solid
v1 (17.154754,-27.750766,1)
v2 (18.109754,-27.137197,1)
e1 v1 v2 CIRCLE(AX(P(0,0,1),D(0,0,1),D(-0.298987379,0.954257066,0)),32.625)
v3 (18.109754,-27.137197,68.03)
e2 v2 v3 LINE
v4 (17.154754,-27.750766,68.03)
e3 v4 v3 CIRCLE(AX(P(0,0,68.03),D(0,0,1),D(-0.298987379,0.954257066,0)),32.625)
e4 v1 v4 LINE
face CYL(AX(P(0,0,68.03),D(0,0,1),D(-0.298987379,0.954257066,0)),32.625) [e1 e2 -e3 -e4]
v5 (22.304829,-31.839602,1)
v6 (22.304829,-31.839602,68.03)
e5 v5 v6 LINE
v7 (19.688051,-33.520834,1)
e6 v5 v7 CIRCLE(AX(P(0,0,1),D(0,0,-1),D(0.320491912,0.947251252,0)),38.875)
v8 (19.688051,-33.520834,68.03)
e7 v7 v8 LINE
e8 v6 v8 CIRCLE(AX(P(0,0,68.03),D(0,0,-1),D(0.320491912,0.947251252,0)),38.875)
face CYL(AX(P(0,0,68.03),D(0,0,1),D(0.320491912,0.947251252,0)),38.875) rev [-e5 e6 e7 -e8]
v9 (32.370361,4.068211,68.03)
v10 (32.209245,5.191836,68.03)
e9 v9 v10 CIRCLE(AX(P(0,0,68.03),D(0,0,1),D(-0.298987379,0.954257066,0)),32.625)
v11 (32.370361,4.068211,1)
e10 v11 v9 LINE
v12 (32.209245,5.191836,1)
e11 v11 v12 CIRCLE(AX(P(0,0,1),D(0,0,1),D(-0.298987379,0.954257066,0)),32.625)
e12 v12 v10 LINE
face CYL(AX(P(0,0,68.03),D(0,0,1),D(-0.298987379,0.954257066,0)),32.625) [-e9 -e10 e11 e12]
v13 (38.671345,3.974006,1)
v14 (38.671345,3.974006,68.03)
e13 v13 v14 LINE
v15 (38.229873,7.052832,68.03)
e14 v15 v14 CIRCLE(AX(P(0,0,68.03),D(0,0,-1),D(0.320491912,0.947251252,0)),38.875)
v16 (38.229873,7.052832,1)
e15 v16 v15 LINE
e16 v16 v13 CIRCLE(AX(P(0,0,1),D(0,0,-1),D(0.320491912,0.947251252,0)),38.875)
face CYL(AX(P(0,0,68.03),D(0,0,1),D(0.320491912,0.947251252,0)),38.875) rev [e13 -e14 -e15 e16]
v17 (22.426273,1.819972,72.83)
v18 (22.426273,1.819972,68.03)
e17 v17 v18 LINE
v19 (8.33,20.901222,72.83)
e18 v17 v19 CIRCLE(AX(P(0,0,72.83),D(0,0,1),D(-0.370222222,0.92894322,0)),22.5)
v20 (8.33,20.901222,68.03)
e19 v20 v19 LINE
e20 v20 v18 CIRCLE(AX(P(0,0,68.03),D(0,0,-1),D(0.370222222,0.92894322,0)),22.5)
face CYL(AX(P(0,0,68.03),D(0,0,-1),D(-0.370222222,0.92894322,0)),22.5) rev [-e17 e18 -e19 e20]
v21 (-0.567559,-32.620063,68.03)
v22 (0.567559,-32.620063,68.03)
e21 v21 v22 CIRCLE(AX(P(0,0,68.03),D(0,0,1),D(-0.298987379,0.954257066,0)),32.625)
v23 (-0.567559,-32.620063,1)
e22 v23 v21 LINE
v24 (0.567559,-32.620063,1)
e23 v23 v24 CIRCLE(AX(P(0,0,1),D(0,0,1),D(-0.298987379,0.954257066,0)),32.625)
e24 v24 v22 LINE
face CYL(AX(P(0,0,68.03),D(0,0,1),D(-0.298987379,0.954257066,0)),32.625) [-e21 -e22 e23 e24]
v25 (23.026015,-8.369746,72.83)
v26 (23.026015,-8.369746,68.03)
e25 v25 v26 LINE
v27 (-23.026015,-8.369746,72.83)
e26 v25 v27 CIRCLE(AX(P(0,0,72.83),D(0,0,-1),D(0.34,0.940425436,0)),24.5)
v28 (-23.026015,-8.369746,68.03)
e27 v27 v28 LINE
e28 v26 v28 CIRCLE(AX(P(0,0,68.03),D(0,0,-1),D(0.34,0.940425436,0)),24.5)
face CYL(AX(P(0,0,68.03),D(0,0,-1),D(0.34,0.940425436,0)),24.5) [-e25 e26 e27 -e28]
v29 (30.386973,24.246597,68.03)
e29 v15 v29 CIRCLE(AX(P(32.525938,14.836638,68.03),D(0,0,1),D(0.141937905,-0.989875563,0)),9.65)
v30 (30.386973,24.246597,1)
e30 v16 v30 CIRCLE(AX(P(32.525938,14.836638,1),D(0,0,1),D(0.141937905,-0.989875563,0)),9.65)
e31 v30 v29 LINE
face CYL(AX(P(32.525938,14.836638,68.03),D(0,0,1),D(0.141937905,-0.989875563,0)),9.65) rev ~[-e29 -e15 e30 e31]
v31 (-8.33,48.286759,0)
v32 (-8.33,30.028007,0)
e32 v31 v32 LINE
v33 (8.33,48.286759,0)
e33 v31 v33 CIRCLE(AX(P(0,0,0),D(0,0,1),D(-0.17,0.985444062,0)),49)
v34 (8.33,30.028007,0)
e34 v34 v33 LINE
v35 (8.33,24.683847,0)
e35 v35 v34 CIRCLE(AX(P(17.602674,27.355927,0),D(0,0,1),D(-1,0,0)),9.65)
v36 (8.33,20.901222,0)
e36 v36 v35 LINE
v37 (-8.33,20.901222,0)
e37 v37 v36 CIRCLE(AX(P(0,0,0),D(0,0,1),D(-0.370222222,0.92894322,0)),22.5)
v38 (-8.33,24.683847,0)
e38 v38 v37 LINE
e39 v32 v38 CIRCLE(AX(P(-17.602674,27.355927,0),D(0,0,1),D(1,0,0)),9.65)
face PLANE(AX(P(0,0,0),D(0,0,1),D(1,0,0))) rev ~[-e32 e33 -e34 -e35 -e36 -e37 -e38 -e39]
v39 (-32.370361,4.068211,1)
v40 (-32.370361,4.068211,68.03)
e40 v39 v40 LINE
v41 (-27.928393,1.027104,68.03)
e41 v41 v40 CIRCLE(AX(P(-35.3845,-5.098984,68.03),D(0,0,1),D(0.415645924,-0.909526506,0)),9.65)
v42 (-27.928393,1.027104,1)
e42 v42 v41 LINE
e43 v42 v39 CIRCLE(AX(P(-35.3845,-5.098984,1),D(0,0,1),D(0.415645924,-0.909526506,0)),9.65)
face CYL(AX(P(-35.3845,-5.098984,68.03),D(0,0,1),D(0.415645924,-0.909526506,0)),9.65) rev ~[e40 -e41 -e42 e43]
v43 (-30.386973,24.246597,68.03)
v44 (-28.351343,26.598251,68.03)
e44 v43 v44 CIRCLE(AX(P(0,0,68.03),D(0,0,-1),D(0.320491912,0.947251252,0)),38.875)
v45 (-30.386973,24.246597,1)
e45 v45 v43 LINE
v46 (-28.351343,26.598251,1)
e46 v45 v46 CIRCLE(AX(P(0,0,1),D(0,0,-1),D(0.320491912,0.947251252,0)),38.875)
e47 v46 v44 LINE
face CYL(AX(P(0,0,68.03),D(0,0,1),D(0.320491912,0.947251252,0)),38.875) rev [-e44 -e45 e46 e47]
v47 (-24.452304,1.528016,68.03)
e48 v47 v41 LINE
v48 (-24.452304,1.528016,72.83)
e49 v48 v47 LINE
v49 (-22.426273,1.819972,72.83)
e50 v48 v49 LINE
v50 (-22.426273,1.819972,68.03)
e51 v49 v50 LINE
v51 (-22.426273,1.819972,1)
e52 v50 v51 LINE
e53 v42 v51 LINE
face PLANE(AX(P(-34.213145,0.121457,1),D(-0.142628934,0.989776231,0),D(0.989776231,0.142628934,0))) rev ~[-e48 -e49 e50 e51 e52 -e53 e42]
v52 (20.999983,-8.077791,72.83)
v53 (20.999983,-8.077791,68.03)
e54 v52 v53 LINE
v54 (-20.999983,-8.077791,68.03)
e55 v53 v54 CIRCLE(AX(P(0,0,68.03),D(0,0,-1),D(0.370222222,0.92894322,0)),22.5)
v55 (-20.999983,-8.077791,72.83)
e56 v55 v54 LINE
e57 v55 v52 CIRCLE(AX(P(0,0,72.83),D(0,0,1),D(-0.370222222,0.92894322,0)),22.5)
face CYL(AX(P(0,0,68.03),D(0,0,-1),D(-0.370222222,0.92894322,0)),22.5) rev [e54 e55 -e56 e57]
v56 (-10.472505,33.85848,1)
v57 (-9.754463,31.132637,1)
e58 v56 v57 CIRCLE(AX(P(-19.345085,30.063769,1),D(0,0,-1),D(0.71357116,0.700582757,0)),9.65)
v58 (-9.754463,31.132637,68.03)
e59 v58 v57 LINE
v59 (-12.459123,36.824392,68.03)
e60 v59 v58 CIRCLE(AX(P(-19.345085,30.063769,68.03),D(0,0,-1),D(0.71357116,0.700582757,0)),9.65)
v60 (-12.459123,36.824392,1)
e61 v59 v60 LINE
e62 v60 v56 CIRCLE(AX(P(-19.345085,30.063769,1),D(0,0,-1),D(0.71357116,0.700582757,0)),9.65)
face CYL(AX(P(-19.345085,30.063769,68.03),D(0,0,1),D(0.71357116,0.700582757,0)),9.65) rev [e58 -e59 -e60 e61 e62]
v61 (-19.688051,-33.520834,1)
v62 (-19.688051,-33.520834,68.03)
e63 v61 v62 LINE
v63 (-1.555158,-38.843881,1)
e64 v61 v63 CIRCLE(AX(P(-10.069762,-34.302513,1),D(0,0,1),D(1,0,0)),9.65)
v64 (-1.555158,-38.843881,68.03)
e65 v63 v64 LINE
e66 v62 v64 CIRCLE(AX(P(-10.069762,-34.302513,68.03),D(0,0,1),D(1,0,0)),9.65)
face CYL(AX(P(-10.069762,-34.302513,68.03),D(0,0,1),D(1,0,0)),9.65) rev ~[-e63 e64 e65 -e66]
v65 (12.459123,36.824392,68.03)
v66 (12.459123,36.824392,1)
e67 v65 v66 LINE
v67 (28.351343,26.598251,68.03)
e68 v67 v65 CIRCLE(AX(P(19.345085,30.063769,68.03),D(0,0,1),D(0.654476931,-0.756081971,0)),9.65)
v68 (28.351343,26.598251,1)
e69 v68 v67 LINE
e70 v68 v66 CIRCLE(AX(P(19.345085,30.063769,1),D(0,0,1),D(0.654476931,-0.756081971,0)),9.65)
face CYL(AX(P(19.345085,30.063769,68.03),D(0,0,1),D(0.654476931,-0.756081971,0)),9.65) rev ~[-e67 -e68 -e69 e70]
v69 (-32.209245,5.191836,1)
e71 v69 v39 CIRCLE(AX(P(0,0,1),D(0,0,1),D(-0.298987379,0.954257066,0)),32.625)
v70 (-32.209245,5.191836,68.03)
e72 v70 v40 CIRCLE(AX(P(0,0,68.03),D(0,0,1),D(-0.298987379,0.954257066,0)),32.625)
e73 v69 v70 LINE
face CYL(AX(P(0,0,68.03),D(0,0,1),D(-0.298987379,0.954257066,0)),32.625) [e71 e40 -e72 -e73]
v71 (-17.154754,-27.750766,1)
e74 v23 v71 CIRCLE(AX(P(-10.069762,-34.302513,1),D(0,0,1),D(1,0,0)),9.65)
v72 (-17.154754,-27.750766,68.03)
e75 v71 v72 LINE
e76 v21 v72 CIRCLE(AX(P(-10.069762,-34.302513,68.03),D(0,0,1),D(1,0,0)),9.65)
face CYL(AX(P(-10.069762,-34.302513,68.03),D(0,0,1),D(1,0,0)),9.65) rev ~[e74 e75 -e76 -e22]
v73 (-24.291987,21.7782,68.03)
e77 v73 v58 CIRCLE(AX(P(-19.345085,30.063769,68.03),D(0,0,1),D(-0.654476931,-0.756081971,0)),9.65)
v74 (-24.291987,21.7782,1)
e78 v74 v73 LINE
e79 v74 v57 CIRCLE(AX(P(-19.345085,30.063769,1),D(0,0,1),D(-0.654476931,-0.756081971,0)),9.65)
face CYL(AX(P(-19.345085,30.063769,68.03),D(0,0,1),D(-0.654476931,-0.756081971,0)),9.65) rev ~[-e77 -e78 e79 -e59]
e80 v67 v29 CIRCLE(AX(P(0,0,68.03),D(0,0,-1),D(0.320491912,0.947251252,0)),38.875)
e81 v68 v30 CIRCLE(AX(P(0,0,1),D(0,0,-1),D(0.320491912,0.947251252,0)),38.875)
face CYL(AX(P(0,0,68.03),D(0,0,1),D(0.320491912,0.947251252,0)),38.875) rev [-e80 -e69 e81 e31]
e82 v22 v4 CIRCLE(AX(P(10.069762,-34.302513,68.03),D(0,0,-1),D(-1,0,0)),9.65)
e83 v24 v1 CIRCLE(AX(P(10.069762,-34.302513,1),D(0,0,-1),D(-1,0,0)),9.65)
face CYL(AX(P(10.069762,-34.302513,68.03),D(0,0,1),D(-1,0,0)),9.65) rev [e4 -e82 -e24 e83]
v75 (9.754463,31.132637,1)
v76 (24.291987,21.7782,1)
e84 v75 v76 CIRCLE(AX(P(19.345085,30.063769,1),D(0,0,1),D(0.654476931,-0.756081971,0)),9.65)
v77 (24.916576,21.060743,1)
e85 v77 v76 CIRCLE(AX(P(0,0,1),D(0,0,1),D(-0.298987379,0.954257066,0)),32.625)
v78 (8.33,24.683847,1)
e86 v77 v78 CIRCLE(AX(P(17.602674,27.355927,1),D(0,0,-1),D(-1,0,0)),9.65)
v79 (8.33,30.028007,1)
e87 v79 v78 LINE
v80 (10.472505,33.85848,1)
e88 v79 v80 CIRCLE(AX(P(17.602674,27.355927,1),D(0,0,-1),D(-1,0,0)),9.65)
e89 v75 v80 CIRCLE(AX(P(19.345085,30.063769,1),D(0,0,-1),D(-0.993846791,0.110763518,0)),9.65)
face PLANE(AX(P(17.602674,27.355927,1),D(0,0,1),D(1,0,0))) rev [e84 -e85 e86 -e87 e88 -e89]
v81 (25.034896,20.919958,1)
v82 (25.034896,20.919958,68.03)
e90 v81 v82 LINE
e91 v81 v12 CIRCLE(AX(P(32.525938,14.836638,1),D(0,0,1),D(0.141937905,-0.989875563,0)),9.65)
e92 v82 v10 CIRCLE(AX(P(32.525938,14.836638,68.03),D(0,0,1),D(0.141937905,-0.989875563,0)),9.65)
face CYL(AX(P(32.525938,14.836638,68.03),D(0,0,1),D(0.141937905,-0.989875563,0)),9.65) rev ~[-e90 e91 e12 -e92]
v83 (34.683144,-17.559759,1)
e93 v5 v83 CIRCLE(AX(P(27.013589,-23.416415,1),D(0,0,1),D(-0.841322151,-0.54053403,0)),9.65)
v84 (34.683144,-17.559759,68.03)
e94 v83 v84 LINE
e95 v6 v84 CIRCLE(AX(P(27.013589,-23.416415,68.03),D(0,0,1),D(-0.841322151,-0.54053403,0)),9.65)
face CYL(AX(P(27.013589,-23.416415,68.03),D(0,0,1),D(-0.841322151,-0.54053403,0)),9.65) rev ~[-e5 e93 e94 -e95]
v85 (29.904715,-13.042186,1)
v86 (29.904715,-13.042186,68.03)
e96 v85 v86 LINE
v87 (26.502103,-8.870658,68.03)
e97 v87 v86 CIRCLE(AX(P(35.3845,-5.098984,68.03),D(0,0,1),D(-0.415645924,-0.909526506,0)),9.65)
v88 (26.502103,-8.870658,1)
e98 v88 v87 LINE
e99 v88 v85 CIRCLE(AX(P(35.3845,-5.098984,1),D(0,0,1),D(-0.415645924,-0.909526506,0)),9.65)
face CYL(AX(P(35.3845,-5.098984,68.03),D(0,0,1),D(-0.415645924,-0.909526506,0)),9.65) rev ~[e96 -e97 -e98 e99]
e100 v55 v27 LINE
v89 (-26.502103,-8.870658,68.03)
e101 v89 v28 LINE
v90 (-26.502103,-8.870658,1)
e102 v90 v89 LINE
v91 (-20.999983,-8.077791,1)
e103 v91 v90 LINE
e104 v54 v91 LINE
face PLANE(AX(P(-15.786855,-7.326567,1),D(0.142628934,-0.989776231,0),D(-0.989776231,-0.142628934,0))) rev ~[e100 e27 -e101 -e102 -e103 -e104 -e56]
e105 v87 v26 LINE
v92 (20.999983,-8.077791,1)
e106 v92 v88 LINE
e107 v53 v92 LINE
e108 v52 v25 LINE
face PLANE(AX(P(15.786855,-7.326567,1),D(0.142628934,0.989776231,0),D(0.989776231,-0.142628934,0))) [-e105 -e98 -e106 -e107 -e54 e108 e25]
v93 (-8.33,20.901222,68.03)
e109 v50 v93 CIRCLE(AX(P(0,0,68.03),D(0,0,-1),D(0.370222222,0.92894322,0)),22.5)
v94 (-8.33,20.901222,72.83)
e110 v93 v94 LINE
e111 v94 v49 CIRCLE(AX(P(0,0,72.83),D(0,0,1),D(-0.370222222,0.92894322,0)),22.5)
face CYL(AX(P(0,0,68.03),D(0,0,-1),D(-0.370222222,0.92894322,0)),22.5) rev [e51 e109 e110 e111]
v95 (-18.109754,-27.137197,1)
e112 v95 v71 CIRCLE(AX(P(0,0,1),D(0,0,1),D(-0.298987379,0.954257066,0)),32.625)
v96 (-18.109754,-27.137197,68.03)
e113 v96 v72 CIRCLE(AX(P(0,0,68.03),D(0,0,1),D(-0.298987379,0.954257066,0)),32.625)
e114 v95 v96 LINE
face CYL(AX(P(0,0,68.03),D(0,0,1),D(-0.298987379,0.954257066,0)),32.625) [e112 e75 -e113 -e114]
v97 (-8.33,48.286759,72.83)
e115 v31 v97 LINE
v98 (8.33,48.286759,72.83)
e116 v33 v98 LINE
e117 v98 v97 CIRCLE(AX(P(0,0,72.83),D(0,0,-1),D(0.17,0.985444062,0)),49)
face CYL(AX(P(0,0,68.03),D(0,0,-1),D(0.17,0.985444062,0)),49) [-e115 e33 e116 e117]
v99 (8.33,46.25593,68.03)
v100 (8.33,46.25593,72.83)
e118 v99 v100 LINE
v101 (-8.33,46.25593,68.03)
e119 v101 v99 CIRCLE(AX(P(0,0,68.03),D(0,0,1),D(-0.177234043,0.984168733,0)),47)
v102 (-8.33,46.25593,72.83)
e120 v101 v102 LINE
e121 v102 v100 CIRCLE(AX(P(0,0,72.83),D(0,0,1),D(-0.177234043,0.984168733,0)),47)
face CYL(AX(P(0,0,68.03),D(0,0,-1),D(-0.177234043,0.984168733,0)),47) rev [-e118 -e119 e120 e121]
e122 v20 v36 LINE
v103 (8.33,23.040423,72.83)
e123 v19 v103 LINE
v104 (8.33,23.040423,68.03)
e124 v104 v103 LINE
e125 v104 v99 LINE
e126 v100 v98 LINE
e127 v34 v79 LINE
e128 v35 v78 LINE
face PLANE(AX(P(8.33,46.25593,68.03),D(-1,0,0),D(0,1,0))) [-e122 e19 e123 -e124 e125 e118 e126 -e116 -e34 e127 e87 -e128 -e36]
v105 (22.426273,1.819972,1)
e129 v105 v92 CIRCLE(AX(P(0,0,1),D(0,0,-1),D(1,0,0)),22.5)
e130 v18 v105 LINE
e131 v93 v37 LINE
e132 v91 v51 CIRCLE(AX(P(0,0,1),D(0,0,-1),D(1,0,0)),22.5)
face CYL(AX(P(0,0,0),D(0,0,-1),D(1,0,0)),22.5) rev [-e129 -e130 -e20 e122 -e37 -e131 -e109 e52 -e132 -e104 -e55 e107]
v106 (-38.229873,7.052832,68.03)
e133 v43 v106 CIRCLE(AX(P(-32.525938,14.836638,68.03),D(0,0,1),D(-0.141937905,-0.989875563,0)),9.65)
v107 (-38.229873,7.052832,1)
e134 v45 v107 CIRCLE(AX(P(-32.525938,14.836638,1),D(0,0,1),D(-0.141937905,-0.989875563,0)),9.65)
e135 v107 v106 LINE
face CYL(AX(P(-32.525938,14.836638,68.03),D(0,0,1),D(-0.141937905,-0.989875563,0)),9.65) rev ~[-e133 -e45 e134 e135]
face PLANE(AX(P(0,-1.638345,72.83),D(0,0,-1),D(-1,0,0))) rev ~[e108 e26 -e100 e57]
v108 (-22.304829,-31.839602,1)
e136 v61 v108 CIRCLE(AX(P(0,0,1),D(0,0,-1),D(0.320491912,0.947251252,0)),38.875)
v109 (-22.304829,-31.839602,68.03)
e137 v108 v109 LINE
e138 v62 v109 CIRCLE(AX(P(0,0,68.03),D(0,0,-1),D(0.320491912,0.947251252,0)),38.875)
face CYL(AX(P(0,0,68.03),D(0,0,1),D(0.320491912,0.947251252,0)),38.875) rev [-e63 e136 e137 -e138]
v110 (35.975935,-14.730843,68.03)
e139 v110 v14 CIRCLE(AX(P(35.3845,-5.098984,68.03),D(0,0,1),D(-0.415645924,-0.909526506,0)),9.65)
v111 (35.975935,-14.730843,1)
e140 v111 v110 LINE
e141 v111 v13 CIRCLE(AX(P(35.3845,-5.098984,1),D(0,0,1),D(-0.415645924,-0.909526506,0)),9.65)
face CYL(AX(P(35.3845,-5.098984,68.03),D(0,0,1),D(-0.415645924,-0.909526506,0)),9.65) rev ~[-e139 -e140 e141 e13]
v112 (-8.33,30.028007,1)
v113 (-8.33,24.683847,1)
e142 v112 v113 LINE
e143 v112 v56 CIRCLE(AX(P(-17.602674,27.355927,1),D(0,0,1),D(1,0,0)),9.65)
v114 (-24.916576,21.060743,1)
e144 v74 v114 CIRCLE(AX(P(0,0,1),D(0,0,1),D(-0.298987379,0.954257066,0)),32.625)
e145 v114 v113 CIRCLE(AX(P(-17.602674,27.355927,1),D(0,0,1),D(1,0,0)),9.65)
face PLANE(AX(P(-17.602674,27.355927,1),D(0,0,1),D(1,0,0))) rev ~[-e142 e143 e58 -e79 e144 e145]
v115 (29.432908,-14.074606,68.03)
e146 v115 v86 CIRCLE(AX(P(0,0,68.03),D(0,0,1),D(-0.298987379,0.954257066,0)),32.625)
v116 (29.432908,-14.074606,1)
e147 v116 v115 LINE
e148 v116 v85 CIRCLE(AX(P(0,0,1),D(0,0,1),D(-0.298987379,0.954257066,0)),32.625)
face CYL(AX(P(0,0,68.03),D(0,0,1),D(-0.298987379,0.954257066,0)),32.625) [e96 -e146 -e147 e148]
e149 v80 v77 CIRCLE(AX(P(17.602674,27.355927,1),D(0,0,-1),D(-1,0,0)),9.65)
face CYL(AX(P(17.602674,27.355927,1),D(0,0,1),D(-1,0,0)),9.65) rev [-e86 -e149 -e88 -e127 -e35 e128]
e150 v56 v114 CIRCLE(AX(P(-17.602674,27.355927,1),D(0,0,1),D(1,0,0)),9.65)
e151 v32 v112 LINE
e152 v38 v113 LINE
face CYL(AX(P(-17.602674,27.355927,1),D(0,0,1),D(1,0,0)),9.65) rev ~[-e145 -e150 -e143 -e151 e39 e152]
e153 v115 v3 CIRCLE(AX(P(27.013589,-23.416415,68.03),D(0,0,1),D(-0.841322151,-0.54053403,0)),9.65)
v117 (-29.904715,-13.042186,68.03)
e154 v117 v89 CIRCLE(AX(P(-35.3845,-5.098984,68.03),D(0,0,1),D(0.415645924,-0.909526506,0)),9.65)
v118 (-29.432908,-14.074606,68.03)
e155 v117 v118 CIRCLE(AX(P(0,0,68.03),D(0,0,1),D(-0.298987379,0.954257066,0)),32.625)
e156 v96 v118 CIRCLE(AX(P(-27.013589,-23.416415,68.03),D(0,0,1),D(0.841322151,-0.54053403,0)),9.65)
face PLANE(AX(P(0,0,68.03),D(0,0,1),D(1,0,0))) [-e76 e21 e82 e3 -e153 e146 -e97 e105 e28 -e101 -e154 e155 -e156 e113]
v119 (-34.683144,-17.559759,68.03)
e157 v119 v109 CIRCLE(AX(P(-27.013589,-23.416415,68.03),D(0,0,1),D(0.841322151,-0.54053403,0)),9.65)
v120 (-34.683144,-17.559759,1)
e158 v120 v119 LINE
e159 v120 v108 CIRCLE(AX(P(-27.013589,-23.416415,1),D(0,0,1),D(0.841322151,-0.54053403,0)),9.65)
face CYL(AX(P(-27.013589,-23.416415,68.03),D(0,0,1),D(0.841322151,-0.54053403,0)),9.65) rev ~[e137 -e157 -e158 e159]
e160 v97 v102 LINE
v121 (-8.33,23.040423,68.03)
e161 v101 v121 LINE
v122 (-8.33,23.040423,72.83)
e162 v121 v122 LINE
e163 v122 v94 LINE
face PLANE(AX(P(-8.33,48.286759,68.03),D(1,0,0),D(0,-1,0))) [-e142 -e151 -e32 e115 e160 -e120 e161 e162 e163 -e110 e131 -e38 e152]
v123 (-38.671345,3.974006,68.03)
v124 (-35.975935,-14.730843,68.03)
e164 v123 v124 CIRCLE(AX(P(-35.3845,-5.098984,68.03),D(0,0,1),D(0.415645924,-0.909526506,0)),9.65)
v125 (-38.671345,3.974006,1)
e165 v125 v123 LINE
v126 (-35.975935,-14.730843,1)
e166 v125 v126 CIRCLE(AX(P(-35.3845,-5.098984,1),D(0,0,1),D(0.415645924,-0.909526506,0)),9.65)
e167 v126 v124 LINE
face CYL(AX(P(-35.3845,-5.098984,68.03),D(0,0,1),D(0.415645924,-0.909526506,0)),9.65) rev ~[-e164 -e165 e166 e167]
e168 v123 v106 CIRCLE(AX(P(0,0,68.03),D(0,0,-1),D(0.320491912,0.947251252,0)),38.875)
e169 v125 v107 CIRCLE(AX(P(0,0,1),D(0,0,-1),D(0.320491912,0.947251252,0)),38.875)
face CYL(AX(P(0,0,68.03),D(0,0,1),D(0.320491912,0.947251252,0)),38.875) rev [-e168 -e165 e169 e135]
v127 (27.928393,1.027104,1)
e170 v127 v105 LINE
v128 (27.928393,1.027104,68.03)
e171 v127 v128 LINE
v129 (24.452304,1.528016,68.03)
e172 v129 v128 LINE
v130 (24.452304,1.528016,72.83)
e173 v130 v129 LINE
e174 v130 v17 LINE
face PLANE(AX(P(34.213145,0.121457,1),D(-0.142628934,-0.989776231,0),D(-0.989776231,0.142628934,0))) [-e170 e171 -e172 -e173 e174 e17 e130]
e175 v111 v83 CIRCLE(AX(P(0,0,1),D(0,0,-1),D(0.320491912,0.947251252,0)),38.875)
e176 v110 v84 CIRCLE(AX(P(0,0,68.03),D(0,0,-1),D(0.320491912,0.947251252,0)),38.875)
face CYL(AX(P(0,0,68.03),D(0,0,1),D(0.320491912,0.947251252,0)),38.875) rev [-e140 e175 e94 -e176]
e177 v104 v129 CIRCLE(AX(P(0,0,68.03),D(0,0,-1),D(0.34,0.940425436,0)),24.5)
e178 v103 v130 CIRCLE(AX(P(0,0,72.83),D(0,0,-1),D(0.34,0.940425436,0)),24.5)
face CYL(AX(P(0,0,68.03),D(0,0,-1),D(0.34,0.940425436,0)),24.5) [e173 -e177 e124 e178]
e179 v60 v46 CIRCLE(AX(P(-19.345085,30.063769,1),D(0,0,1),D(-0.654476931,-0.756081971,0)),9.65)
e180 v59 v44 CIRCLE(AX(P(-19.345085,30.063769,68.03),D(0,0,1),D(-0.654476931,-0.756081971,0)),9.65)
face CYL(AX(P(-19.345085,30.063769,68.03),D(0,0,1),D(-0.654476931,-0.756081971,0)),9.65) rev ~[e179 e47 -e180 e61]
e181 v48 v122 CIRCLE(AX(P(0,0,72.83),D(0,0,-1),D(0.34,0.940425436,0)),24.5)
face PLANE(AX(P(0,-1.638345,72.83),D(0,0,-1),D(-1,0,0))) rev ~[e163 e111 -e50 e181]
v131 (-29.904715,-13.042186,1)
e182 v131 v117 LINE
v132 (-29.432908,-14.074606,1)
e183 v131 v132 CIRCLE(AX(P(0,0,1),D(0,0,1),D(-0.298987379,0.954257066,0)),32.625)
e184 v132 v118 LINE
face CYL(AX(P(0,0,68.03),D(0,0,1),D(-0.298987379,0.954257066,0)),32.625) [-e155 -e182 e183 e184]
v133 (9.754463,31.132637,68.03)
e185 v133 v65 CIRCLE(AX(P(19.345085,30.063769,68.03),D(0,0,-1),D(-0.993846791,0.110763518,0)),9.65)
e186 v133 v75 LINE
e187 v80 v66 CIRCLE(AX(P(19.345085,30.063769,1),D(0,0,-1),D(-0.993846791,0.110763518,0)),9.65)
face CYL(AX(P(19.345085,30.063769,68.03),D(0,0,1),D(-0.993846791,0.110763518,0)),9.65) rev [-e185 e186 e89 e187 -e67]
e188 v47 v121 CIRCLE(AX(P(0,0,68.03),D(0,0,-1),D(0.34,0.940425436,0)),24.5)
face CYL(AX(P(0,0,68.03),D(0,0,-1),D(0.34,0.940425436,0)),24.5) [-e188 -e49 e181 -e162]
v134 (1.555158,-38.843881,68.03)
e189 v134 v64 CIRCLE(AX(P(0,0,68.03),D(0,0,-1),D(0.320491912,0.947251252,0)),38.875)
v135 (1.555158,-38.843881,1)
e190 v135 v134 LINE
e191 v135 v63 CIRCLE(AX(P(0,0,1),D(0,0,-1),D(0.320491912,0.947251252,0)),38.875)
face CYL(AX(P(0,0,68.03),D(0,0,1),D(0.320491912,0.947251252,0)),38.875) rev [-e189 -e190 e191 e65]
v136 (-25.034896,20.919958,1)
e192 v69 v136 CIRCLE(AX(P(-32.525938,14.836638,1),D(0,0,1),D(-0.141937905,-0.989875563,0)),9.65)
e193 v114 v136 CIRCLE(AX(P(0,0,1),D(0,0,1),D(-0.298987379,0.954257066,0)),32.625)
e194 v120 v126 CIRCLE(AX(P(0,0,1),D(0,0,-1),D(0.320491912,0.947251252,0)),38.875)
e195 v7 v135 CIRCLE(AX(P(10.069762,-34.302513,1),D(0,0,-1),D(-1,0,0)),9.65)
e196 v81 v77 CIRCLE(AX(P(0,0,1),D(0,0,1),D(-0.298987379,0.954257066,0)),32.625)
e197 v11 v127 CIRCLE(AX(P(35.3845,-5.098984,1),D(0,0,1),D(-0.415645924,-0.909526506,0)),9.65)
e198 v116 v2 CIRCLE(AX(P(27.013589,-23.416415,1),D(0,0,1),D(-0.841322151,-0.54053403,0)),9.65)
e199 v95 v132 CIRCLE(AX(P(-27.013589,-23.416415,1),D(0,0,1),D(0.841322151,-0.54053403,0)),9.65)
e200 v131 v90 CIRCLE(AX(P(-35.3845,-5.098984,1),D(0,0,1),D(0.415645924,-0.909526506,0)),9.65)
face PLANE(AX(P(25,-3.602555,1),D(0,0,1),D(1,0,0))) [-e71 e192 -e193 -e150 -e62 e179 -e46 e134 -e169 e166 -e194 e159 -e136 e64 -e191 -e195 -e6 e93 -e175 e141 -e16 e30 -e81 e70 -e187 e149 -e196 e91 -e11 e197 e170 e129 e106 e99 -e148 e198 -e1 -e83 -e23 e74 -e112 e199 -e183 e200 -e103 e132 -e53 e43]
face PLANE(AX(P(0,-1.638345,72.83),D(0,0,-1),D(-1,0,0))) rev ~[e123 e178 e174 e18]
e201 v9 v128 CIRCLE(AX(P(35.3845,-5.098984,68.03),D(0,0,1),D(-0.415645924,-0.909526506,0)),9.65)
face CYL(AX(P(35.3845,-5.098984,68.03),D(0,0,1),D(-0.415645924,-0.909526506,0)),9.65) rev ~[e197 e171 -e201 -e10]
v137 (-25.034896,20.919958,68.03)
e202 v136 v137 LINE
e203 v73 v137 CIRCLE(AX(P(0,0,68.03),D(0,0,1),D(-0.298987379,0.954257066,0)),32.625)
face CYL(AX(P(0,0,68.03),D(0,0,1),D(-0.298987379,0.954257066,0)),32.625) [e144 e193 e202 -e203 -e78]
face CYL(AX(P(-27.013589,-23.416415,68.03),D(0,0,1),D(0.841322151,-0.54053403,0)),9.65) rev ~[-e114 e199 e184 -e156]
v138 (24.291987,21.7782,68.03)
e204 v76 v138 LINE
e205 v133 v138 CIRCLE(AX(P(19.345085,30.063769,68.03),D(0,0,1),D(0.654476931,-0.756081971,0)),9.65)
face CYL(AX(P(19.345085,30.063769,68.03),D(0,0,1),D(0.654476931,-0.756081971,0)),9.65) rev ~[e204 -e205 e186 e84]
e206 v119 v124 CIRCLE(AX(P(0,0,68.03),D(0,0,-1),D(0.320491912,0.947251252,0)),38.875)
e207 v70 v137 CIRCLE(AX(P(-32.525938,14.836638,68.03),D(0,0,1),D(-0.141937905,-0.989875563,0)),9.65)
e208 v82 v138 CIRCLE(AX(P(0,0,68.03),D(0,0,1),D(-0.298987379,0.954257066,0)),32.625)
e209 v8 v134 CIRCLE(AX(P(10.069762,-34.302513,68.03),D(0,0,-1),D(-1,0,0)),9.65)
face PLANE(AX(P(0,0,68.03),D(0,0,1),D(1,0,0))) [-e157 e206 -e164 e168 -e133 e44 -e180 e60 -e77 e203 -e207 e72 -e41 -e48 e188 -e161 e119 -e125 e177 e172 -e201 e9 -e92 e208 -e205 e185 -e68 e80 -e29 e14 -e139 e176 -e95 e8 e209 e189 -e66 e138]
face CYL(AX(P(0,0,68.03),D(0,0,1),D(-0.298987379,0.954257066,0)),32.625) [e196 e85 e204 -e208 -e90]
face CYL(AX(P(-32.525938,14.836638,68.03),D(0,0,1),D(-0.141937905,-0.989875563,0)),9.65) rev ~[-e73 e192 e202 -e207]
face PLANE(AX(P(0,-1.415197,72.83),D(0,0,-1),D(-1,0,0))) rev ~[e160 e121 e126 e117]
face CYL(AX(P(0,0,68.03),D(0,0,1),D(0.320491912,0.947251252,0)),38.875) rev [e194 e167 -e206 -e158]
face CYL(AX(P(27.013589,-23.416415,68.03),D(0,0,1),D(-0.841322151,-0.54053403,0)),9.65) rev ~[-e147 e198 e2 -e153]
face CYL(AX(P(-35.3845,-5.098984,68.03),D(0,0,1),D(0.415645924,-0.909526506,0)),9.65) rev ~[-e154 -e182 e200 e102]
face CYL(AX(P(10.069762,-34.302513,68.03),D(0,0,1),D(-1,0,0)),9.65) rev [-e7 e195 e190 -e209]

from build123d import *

# Parameters (mm, degrees)
BASIC_SHAPE_SKETCH_R                = 49
BASIC_SHAPE_SKETCH_R_2              = 22.5
BASIC_SHAPE_DEPTH                   = 68.03
SLIT_DEPTH                          = 98.108603635
BATTERY_SLOT_SKETCH_R               = 9.65
BATTERY_SLOT_DEPTH                  = 67.03
PATTERN_BATTERY_SLOT_COUNT          = 5
PATTERN_BATTERY_SLOT_ANGLE          = 130.88
MIRROR_BATTERY_SLOT_COPY_1_SKETCH_R = 9.65
MIRROR_BATTERY_SLOT_COPY_1_DEPTH    = 67.03
MIRROR_BATTERY_SLOT_COPY_2_SKETCH_R = 9.65
MIRROR_BATTERY_SLOT_COPY_2_DEPTH    = 67.03
MIRROR_BATTERY_SLOT_COPY_3_SKETCH_R = 9.65
MIRROR_BATTERY_SLOT_COPY_3_DEPTH    = 67.03
MIRROR_BATTERY_SLOT_COPY_4_SKETCH_R = 9.65
MIRROR_BATTERY_SLOT_COPY_4_DEPTH    = 67.03
BUS_SLIT_DEPTH                      = 67.03
CAP_INNER_LIP_DEPTH                 = 4.8
CAP_OUTER_LIP_DEPTH                 = 4.8
WIRE_SLITS_DEPTH                    = 98.108603635
WIRE_SLITS_DEPTH_BACK               = 67.03
PENNY_HOLE_SKETCH_R                 = 9.65
PENNY_HOLE_DEPTH                    = 100.807559333


with BuildPart() as part:
    # Basic_Shape_Sketch → Basic_Shape (new body)
    with BuildSketch(Plane.XY):
        Circle(BASIC_SHAPE_SKETCH_R)
        Circle(BASIC_SHAPE_SKETCH_R_2, mode=Mode.SUBTRACT)
    extrude(amount=BASIC_SHAPE_DEPTH)

    # Slit_Sketch → Slit (cut, through all)
    with BuildSketch(Plane.XY.offset(68.03)):
        with BuildLine():
            Line((-8.33, 48.286759055), (-8.33, 20.901222452))
            Line((-8.33, 20.901222452), (8.33, 20.901222452))
            Line((8.33, 20.901222452), (8.33, 48.286759055))
            ThreePointArc((8.33, 48.286759055), (0, 56.616759055), (-8.33, 48.286759055))
        make_face()
    extrude(amount=-SLIT_DEPTH, mode=Mode.SUBTRACT)

    # Battery_Slot_Sketch → Battery_Slot (cut)
    with BuildSketch(Plane.XY.offset(68.03)):
        with Locations((-10.069761866, -34.302512969)):
            Circle(BATTERY_SLOT_SKETCH_R)
    battery_slot = extrude(amount=-BATTERY_SLOT_DEPTH, mode=Mode.SUBTRACT)

    # Pattern_Battery_Slot: Battery_Slot ×5 about axis
    pattern_battery_slot_axis = Axis((0, 0, 0), (0, 0, -1))
    for i in range(1, PATTERN_BATTERY_SLOT_COUNT):
        add(battery_slot.rotate(pattern_battery_slot_axis, i * PATTERN_BATTERY_SLOT_ANGLE / (PATTERN_BATTERY_SLOT_COUNT - 1)), mode=Mode.SUBTRACT)

    # Mirror_Battery_Slot: Battery_Slot across plane
    add(battery_slot.mirror(Plane(origin=(0, 0, 0), x_dir=(0, 0, 1), z_dir=(1, 0, 0))), mode=Mode.SUBTRACT)

    # Mirror_Battery_Slot copy 1 sketch → Mirror_Battery_Slot copy 1 (cut)
    with BuildSketch(Plane(origin=(0, 0, 68.03), x_dir=(-0.8413221512344797, -0.5405340302350882, 0), z_dir=(0, 0, 1))):
        with Locations((-10.069761866, 34.302512969)):
            Circle(MIRROR_BATTERY_SLOT_COPY_1_SKETCH_R)
    extrude(amount=-MIRROR_BATTERY_SLOT_COPY_1_DEPTH, mode=Mode.SUBTRACT)

    # Mirror_Battery_Slot copy 2 sketch → Mirror_Battery_Slot copy 2 (cut)
    with BuildSketch(Plane(origin=(0, 0, 68.03), x_dir=(-0.4156459243156256, -0.9095265062656553, 0), z_dir=(0, 0, 1))):
        with Locations((-10.069761866, 34.302512969)):
            Circle(MIRROR_BATTERY_SLOT_COPY_2_SKETCH_R)
    extrude(amount=-MIRROR_BATTERY_SLOT_COPY_2_DEPTH, mode=Mode.SUBTRACT)

    # Mirror_Battery_Slot copy 3 sketch → Mirror_Battery_Slot copy 3 (cut)
    with BuildSketch(Plane(origin=(0, 0, 68.03), x_dir=(0.14193790484034807, -0.9898755634773152, 0), z_dir=(0, 0, 1))):
        with Locations((-10.069761866, 34.302512969)):
            Circle(MIRROR_BATTERY_SLOT_COPY_3_SKETCH_R)
    extrude(amount=-MIRROR_BATTERY_SLOT_COPY_3_DEPTH, mode=Mode.SUBTRACT)

    # Mirror_Battery_Slot copy 4 sketch → Mirror_Battery_Slot copy 4 (cut)
    with BuildSketch(Plane(origin=(0, 0, 68.03), x_dir=(0.6544769311996185, -0.7560819707726999, 0), z_dir=(0, 0, 1))):
        with Locations((-10.069761866, 34.302512969)):
            Circle(MIRROR_BATTERY_SLOT_COPY_4_SKETCH_R)
    extrude(amount=-MIRROR_BATTERY_SLOT_COPY_4_DEPTH, mode=Mode.SUBTRACT)

    # Bus_Slit_Sketch → Bus_Slit (cut)
    with BuildSketch(Plane.XY.offset(68.03)):
        with BuildLine():
            ThreePointArc((-9.754463235, 31.132636766), (0, -32.625), (9.754463235, 31.132636766))
            ThreePointArc((9.754463235, 31.132636766), (10.629095474, 34.20551129), (12.459123069, 36.824392423))
            ThreePointArc((12.459123069, 36.824392423), (0, -38.875), (-12.459123069, 36.824392423))
            ThreePointArc((-12.459123069, 36.824392423), (-10.629095474, 34.20551129), (-9.754463235, 31.132636766))
        make_face()
    extrude(amount=-BUS_SLIT_DEPTH, mode=Mode.SUBTRACT)

    # Cap_Inner_Lip_Sketch → Cap_Inner_Lip (add)
    with BuildSketch(Plane.XY.offset(68.03)):
        with BuildLine():
            Line((-8.33, 23.040423173), (-8.33, 20.901222452))
            ThreePointArc((-8.33, 20.901222452), (0, -22.5), (8.33, 20.901222452))
            Line((8.33, 20.901222452), (8.33, 23.040423173))
            ThreePointArc((8.33, 23.040423173), (0, -24.5), (-8.33, 23.040423173))
        make_face()
    extrude(amount=CAP_INNER_LIP_DEPTH)

    # Cap_Outer_Lip_Sketch → Cap_Outer_Lip (add)
    with BuildSketch(Plane.XY.offset(68.03)):
        with BuildLine():
            Line((-8.33, 48.286759055), (-8.33, 46.255930431))
            ThreePointArc((-8.33, 46.255930431), (0, -47), (8.33, 46.255930431))
            Line((8.33, 46.255930431), (8.33, 48.286759055))
            ThreePointArc((8.33, 48.286759055), (0, -49), (-8.33, 48.286759055))
        make_face()
    extrude(amount=CAP_OUTER_LIP_DEPTH)

    # Wire_Slits_Sketch → Wire_Slits (cut, two sides: drawn at the far end of the back side and taken through both)
    with BuildSketch(Plane.XY.offset(68.03).offset(-WIRE_SLITS_DEPTH_BACK)):
        with BuildLine():
            Line((-34.213144669, 0.12145741), (-17.213144669, 2.571194832))
            ThreePointArc((-17.213144669, 2.571194832), (-11.551118845, -1.664541654), (-15.786855331, -7.326567477))
            Line((-15.786855331, -7.326567477), (-32.786855331, -9.776304899))
            ThreePointArc((-32.786855331, -9.776304899), (-38.448881155, -5.540568413), (-34.213144669, 0.12145741))
        make_face()
        with BuildLine():
            Line((34.213144669, 0.12145741), (17.213144669, 2.571194832))
            ThreePointArc((17.213144669, 2.571194832), (11.551118845, -1.664541654), (15.786855331, -7.326567477))
            Line((15.786855331, -7.326567477), (32.786855331, -9.776304899))
            ThreePointArc((32.786855331, -9.776304899), (38.448881155, -5.540568413), (34.213144669, 0.12145741))
        make_face()
    extrude(amount=WIRE_SLITS_DEPTH + WIRE_SLITS_DEPTH_BACK, mode=Mode.SUBTRACT)

    # Penny Hole Sketch → Penny Hole (cut, through all)
    with BuildSketch(Plane.XY.offset(1)):
        with Locations((-17.602674332, 27.355927262)):
            Circle(PENNY_HOLE_SKETCH_R)
    penny_hole = extrude(amount=-PENNY_HOLE_DEPTH, mode=Mode.SUBTRACT)

    # Penny Hole Mirror: Penny Hole across plane
    add(penny_hole.mirror(Plane(origin=(0, 0, 0), x_dir=(0, 0, 1), z_dir=(1, 0, 0))), mode=Mode.SUBTRACT)


solid = part.part
